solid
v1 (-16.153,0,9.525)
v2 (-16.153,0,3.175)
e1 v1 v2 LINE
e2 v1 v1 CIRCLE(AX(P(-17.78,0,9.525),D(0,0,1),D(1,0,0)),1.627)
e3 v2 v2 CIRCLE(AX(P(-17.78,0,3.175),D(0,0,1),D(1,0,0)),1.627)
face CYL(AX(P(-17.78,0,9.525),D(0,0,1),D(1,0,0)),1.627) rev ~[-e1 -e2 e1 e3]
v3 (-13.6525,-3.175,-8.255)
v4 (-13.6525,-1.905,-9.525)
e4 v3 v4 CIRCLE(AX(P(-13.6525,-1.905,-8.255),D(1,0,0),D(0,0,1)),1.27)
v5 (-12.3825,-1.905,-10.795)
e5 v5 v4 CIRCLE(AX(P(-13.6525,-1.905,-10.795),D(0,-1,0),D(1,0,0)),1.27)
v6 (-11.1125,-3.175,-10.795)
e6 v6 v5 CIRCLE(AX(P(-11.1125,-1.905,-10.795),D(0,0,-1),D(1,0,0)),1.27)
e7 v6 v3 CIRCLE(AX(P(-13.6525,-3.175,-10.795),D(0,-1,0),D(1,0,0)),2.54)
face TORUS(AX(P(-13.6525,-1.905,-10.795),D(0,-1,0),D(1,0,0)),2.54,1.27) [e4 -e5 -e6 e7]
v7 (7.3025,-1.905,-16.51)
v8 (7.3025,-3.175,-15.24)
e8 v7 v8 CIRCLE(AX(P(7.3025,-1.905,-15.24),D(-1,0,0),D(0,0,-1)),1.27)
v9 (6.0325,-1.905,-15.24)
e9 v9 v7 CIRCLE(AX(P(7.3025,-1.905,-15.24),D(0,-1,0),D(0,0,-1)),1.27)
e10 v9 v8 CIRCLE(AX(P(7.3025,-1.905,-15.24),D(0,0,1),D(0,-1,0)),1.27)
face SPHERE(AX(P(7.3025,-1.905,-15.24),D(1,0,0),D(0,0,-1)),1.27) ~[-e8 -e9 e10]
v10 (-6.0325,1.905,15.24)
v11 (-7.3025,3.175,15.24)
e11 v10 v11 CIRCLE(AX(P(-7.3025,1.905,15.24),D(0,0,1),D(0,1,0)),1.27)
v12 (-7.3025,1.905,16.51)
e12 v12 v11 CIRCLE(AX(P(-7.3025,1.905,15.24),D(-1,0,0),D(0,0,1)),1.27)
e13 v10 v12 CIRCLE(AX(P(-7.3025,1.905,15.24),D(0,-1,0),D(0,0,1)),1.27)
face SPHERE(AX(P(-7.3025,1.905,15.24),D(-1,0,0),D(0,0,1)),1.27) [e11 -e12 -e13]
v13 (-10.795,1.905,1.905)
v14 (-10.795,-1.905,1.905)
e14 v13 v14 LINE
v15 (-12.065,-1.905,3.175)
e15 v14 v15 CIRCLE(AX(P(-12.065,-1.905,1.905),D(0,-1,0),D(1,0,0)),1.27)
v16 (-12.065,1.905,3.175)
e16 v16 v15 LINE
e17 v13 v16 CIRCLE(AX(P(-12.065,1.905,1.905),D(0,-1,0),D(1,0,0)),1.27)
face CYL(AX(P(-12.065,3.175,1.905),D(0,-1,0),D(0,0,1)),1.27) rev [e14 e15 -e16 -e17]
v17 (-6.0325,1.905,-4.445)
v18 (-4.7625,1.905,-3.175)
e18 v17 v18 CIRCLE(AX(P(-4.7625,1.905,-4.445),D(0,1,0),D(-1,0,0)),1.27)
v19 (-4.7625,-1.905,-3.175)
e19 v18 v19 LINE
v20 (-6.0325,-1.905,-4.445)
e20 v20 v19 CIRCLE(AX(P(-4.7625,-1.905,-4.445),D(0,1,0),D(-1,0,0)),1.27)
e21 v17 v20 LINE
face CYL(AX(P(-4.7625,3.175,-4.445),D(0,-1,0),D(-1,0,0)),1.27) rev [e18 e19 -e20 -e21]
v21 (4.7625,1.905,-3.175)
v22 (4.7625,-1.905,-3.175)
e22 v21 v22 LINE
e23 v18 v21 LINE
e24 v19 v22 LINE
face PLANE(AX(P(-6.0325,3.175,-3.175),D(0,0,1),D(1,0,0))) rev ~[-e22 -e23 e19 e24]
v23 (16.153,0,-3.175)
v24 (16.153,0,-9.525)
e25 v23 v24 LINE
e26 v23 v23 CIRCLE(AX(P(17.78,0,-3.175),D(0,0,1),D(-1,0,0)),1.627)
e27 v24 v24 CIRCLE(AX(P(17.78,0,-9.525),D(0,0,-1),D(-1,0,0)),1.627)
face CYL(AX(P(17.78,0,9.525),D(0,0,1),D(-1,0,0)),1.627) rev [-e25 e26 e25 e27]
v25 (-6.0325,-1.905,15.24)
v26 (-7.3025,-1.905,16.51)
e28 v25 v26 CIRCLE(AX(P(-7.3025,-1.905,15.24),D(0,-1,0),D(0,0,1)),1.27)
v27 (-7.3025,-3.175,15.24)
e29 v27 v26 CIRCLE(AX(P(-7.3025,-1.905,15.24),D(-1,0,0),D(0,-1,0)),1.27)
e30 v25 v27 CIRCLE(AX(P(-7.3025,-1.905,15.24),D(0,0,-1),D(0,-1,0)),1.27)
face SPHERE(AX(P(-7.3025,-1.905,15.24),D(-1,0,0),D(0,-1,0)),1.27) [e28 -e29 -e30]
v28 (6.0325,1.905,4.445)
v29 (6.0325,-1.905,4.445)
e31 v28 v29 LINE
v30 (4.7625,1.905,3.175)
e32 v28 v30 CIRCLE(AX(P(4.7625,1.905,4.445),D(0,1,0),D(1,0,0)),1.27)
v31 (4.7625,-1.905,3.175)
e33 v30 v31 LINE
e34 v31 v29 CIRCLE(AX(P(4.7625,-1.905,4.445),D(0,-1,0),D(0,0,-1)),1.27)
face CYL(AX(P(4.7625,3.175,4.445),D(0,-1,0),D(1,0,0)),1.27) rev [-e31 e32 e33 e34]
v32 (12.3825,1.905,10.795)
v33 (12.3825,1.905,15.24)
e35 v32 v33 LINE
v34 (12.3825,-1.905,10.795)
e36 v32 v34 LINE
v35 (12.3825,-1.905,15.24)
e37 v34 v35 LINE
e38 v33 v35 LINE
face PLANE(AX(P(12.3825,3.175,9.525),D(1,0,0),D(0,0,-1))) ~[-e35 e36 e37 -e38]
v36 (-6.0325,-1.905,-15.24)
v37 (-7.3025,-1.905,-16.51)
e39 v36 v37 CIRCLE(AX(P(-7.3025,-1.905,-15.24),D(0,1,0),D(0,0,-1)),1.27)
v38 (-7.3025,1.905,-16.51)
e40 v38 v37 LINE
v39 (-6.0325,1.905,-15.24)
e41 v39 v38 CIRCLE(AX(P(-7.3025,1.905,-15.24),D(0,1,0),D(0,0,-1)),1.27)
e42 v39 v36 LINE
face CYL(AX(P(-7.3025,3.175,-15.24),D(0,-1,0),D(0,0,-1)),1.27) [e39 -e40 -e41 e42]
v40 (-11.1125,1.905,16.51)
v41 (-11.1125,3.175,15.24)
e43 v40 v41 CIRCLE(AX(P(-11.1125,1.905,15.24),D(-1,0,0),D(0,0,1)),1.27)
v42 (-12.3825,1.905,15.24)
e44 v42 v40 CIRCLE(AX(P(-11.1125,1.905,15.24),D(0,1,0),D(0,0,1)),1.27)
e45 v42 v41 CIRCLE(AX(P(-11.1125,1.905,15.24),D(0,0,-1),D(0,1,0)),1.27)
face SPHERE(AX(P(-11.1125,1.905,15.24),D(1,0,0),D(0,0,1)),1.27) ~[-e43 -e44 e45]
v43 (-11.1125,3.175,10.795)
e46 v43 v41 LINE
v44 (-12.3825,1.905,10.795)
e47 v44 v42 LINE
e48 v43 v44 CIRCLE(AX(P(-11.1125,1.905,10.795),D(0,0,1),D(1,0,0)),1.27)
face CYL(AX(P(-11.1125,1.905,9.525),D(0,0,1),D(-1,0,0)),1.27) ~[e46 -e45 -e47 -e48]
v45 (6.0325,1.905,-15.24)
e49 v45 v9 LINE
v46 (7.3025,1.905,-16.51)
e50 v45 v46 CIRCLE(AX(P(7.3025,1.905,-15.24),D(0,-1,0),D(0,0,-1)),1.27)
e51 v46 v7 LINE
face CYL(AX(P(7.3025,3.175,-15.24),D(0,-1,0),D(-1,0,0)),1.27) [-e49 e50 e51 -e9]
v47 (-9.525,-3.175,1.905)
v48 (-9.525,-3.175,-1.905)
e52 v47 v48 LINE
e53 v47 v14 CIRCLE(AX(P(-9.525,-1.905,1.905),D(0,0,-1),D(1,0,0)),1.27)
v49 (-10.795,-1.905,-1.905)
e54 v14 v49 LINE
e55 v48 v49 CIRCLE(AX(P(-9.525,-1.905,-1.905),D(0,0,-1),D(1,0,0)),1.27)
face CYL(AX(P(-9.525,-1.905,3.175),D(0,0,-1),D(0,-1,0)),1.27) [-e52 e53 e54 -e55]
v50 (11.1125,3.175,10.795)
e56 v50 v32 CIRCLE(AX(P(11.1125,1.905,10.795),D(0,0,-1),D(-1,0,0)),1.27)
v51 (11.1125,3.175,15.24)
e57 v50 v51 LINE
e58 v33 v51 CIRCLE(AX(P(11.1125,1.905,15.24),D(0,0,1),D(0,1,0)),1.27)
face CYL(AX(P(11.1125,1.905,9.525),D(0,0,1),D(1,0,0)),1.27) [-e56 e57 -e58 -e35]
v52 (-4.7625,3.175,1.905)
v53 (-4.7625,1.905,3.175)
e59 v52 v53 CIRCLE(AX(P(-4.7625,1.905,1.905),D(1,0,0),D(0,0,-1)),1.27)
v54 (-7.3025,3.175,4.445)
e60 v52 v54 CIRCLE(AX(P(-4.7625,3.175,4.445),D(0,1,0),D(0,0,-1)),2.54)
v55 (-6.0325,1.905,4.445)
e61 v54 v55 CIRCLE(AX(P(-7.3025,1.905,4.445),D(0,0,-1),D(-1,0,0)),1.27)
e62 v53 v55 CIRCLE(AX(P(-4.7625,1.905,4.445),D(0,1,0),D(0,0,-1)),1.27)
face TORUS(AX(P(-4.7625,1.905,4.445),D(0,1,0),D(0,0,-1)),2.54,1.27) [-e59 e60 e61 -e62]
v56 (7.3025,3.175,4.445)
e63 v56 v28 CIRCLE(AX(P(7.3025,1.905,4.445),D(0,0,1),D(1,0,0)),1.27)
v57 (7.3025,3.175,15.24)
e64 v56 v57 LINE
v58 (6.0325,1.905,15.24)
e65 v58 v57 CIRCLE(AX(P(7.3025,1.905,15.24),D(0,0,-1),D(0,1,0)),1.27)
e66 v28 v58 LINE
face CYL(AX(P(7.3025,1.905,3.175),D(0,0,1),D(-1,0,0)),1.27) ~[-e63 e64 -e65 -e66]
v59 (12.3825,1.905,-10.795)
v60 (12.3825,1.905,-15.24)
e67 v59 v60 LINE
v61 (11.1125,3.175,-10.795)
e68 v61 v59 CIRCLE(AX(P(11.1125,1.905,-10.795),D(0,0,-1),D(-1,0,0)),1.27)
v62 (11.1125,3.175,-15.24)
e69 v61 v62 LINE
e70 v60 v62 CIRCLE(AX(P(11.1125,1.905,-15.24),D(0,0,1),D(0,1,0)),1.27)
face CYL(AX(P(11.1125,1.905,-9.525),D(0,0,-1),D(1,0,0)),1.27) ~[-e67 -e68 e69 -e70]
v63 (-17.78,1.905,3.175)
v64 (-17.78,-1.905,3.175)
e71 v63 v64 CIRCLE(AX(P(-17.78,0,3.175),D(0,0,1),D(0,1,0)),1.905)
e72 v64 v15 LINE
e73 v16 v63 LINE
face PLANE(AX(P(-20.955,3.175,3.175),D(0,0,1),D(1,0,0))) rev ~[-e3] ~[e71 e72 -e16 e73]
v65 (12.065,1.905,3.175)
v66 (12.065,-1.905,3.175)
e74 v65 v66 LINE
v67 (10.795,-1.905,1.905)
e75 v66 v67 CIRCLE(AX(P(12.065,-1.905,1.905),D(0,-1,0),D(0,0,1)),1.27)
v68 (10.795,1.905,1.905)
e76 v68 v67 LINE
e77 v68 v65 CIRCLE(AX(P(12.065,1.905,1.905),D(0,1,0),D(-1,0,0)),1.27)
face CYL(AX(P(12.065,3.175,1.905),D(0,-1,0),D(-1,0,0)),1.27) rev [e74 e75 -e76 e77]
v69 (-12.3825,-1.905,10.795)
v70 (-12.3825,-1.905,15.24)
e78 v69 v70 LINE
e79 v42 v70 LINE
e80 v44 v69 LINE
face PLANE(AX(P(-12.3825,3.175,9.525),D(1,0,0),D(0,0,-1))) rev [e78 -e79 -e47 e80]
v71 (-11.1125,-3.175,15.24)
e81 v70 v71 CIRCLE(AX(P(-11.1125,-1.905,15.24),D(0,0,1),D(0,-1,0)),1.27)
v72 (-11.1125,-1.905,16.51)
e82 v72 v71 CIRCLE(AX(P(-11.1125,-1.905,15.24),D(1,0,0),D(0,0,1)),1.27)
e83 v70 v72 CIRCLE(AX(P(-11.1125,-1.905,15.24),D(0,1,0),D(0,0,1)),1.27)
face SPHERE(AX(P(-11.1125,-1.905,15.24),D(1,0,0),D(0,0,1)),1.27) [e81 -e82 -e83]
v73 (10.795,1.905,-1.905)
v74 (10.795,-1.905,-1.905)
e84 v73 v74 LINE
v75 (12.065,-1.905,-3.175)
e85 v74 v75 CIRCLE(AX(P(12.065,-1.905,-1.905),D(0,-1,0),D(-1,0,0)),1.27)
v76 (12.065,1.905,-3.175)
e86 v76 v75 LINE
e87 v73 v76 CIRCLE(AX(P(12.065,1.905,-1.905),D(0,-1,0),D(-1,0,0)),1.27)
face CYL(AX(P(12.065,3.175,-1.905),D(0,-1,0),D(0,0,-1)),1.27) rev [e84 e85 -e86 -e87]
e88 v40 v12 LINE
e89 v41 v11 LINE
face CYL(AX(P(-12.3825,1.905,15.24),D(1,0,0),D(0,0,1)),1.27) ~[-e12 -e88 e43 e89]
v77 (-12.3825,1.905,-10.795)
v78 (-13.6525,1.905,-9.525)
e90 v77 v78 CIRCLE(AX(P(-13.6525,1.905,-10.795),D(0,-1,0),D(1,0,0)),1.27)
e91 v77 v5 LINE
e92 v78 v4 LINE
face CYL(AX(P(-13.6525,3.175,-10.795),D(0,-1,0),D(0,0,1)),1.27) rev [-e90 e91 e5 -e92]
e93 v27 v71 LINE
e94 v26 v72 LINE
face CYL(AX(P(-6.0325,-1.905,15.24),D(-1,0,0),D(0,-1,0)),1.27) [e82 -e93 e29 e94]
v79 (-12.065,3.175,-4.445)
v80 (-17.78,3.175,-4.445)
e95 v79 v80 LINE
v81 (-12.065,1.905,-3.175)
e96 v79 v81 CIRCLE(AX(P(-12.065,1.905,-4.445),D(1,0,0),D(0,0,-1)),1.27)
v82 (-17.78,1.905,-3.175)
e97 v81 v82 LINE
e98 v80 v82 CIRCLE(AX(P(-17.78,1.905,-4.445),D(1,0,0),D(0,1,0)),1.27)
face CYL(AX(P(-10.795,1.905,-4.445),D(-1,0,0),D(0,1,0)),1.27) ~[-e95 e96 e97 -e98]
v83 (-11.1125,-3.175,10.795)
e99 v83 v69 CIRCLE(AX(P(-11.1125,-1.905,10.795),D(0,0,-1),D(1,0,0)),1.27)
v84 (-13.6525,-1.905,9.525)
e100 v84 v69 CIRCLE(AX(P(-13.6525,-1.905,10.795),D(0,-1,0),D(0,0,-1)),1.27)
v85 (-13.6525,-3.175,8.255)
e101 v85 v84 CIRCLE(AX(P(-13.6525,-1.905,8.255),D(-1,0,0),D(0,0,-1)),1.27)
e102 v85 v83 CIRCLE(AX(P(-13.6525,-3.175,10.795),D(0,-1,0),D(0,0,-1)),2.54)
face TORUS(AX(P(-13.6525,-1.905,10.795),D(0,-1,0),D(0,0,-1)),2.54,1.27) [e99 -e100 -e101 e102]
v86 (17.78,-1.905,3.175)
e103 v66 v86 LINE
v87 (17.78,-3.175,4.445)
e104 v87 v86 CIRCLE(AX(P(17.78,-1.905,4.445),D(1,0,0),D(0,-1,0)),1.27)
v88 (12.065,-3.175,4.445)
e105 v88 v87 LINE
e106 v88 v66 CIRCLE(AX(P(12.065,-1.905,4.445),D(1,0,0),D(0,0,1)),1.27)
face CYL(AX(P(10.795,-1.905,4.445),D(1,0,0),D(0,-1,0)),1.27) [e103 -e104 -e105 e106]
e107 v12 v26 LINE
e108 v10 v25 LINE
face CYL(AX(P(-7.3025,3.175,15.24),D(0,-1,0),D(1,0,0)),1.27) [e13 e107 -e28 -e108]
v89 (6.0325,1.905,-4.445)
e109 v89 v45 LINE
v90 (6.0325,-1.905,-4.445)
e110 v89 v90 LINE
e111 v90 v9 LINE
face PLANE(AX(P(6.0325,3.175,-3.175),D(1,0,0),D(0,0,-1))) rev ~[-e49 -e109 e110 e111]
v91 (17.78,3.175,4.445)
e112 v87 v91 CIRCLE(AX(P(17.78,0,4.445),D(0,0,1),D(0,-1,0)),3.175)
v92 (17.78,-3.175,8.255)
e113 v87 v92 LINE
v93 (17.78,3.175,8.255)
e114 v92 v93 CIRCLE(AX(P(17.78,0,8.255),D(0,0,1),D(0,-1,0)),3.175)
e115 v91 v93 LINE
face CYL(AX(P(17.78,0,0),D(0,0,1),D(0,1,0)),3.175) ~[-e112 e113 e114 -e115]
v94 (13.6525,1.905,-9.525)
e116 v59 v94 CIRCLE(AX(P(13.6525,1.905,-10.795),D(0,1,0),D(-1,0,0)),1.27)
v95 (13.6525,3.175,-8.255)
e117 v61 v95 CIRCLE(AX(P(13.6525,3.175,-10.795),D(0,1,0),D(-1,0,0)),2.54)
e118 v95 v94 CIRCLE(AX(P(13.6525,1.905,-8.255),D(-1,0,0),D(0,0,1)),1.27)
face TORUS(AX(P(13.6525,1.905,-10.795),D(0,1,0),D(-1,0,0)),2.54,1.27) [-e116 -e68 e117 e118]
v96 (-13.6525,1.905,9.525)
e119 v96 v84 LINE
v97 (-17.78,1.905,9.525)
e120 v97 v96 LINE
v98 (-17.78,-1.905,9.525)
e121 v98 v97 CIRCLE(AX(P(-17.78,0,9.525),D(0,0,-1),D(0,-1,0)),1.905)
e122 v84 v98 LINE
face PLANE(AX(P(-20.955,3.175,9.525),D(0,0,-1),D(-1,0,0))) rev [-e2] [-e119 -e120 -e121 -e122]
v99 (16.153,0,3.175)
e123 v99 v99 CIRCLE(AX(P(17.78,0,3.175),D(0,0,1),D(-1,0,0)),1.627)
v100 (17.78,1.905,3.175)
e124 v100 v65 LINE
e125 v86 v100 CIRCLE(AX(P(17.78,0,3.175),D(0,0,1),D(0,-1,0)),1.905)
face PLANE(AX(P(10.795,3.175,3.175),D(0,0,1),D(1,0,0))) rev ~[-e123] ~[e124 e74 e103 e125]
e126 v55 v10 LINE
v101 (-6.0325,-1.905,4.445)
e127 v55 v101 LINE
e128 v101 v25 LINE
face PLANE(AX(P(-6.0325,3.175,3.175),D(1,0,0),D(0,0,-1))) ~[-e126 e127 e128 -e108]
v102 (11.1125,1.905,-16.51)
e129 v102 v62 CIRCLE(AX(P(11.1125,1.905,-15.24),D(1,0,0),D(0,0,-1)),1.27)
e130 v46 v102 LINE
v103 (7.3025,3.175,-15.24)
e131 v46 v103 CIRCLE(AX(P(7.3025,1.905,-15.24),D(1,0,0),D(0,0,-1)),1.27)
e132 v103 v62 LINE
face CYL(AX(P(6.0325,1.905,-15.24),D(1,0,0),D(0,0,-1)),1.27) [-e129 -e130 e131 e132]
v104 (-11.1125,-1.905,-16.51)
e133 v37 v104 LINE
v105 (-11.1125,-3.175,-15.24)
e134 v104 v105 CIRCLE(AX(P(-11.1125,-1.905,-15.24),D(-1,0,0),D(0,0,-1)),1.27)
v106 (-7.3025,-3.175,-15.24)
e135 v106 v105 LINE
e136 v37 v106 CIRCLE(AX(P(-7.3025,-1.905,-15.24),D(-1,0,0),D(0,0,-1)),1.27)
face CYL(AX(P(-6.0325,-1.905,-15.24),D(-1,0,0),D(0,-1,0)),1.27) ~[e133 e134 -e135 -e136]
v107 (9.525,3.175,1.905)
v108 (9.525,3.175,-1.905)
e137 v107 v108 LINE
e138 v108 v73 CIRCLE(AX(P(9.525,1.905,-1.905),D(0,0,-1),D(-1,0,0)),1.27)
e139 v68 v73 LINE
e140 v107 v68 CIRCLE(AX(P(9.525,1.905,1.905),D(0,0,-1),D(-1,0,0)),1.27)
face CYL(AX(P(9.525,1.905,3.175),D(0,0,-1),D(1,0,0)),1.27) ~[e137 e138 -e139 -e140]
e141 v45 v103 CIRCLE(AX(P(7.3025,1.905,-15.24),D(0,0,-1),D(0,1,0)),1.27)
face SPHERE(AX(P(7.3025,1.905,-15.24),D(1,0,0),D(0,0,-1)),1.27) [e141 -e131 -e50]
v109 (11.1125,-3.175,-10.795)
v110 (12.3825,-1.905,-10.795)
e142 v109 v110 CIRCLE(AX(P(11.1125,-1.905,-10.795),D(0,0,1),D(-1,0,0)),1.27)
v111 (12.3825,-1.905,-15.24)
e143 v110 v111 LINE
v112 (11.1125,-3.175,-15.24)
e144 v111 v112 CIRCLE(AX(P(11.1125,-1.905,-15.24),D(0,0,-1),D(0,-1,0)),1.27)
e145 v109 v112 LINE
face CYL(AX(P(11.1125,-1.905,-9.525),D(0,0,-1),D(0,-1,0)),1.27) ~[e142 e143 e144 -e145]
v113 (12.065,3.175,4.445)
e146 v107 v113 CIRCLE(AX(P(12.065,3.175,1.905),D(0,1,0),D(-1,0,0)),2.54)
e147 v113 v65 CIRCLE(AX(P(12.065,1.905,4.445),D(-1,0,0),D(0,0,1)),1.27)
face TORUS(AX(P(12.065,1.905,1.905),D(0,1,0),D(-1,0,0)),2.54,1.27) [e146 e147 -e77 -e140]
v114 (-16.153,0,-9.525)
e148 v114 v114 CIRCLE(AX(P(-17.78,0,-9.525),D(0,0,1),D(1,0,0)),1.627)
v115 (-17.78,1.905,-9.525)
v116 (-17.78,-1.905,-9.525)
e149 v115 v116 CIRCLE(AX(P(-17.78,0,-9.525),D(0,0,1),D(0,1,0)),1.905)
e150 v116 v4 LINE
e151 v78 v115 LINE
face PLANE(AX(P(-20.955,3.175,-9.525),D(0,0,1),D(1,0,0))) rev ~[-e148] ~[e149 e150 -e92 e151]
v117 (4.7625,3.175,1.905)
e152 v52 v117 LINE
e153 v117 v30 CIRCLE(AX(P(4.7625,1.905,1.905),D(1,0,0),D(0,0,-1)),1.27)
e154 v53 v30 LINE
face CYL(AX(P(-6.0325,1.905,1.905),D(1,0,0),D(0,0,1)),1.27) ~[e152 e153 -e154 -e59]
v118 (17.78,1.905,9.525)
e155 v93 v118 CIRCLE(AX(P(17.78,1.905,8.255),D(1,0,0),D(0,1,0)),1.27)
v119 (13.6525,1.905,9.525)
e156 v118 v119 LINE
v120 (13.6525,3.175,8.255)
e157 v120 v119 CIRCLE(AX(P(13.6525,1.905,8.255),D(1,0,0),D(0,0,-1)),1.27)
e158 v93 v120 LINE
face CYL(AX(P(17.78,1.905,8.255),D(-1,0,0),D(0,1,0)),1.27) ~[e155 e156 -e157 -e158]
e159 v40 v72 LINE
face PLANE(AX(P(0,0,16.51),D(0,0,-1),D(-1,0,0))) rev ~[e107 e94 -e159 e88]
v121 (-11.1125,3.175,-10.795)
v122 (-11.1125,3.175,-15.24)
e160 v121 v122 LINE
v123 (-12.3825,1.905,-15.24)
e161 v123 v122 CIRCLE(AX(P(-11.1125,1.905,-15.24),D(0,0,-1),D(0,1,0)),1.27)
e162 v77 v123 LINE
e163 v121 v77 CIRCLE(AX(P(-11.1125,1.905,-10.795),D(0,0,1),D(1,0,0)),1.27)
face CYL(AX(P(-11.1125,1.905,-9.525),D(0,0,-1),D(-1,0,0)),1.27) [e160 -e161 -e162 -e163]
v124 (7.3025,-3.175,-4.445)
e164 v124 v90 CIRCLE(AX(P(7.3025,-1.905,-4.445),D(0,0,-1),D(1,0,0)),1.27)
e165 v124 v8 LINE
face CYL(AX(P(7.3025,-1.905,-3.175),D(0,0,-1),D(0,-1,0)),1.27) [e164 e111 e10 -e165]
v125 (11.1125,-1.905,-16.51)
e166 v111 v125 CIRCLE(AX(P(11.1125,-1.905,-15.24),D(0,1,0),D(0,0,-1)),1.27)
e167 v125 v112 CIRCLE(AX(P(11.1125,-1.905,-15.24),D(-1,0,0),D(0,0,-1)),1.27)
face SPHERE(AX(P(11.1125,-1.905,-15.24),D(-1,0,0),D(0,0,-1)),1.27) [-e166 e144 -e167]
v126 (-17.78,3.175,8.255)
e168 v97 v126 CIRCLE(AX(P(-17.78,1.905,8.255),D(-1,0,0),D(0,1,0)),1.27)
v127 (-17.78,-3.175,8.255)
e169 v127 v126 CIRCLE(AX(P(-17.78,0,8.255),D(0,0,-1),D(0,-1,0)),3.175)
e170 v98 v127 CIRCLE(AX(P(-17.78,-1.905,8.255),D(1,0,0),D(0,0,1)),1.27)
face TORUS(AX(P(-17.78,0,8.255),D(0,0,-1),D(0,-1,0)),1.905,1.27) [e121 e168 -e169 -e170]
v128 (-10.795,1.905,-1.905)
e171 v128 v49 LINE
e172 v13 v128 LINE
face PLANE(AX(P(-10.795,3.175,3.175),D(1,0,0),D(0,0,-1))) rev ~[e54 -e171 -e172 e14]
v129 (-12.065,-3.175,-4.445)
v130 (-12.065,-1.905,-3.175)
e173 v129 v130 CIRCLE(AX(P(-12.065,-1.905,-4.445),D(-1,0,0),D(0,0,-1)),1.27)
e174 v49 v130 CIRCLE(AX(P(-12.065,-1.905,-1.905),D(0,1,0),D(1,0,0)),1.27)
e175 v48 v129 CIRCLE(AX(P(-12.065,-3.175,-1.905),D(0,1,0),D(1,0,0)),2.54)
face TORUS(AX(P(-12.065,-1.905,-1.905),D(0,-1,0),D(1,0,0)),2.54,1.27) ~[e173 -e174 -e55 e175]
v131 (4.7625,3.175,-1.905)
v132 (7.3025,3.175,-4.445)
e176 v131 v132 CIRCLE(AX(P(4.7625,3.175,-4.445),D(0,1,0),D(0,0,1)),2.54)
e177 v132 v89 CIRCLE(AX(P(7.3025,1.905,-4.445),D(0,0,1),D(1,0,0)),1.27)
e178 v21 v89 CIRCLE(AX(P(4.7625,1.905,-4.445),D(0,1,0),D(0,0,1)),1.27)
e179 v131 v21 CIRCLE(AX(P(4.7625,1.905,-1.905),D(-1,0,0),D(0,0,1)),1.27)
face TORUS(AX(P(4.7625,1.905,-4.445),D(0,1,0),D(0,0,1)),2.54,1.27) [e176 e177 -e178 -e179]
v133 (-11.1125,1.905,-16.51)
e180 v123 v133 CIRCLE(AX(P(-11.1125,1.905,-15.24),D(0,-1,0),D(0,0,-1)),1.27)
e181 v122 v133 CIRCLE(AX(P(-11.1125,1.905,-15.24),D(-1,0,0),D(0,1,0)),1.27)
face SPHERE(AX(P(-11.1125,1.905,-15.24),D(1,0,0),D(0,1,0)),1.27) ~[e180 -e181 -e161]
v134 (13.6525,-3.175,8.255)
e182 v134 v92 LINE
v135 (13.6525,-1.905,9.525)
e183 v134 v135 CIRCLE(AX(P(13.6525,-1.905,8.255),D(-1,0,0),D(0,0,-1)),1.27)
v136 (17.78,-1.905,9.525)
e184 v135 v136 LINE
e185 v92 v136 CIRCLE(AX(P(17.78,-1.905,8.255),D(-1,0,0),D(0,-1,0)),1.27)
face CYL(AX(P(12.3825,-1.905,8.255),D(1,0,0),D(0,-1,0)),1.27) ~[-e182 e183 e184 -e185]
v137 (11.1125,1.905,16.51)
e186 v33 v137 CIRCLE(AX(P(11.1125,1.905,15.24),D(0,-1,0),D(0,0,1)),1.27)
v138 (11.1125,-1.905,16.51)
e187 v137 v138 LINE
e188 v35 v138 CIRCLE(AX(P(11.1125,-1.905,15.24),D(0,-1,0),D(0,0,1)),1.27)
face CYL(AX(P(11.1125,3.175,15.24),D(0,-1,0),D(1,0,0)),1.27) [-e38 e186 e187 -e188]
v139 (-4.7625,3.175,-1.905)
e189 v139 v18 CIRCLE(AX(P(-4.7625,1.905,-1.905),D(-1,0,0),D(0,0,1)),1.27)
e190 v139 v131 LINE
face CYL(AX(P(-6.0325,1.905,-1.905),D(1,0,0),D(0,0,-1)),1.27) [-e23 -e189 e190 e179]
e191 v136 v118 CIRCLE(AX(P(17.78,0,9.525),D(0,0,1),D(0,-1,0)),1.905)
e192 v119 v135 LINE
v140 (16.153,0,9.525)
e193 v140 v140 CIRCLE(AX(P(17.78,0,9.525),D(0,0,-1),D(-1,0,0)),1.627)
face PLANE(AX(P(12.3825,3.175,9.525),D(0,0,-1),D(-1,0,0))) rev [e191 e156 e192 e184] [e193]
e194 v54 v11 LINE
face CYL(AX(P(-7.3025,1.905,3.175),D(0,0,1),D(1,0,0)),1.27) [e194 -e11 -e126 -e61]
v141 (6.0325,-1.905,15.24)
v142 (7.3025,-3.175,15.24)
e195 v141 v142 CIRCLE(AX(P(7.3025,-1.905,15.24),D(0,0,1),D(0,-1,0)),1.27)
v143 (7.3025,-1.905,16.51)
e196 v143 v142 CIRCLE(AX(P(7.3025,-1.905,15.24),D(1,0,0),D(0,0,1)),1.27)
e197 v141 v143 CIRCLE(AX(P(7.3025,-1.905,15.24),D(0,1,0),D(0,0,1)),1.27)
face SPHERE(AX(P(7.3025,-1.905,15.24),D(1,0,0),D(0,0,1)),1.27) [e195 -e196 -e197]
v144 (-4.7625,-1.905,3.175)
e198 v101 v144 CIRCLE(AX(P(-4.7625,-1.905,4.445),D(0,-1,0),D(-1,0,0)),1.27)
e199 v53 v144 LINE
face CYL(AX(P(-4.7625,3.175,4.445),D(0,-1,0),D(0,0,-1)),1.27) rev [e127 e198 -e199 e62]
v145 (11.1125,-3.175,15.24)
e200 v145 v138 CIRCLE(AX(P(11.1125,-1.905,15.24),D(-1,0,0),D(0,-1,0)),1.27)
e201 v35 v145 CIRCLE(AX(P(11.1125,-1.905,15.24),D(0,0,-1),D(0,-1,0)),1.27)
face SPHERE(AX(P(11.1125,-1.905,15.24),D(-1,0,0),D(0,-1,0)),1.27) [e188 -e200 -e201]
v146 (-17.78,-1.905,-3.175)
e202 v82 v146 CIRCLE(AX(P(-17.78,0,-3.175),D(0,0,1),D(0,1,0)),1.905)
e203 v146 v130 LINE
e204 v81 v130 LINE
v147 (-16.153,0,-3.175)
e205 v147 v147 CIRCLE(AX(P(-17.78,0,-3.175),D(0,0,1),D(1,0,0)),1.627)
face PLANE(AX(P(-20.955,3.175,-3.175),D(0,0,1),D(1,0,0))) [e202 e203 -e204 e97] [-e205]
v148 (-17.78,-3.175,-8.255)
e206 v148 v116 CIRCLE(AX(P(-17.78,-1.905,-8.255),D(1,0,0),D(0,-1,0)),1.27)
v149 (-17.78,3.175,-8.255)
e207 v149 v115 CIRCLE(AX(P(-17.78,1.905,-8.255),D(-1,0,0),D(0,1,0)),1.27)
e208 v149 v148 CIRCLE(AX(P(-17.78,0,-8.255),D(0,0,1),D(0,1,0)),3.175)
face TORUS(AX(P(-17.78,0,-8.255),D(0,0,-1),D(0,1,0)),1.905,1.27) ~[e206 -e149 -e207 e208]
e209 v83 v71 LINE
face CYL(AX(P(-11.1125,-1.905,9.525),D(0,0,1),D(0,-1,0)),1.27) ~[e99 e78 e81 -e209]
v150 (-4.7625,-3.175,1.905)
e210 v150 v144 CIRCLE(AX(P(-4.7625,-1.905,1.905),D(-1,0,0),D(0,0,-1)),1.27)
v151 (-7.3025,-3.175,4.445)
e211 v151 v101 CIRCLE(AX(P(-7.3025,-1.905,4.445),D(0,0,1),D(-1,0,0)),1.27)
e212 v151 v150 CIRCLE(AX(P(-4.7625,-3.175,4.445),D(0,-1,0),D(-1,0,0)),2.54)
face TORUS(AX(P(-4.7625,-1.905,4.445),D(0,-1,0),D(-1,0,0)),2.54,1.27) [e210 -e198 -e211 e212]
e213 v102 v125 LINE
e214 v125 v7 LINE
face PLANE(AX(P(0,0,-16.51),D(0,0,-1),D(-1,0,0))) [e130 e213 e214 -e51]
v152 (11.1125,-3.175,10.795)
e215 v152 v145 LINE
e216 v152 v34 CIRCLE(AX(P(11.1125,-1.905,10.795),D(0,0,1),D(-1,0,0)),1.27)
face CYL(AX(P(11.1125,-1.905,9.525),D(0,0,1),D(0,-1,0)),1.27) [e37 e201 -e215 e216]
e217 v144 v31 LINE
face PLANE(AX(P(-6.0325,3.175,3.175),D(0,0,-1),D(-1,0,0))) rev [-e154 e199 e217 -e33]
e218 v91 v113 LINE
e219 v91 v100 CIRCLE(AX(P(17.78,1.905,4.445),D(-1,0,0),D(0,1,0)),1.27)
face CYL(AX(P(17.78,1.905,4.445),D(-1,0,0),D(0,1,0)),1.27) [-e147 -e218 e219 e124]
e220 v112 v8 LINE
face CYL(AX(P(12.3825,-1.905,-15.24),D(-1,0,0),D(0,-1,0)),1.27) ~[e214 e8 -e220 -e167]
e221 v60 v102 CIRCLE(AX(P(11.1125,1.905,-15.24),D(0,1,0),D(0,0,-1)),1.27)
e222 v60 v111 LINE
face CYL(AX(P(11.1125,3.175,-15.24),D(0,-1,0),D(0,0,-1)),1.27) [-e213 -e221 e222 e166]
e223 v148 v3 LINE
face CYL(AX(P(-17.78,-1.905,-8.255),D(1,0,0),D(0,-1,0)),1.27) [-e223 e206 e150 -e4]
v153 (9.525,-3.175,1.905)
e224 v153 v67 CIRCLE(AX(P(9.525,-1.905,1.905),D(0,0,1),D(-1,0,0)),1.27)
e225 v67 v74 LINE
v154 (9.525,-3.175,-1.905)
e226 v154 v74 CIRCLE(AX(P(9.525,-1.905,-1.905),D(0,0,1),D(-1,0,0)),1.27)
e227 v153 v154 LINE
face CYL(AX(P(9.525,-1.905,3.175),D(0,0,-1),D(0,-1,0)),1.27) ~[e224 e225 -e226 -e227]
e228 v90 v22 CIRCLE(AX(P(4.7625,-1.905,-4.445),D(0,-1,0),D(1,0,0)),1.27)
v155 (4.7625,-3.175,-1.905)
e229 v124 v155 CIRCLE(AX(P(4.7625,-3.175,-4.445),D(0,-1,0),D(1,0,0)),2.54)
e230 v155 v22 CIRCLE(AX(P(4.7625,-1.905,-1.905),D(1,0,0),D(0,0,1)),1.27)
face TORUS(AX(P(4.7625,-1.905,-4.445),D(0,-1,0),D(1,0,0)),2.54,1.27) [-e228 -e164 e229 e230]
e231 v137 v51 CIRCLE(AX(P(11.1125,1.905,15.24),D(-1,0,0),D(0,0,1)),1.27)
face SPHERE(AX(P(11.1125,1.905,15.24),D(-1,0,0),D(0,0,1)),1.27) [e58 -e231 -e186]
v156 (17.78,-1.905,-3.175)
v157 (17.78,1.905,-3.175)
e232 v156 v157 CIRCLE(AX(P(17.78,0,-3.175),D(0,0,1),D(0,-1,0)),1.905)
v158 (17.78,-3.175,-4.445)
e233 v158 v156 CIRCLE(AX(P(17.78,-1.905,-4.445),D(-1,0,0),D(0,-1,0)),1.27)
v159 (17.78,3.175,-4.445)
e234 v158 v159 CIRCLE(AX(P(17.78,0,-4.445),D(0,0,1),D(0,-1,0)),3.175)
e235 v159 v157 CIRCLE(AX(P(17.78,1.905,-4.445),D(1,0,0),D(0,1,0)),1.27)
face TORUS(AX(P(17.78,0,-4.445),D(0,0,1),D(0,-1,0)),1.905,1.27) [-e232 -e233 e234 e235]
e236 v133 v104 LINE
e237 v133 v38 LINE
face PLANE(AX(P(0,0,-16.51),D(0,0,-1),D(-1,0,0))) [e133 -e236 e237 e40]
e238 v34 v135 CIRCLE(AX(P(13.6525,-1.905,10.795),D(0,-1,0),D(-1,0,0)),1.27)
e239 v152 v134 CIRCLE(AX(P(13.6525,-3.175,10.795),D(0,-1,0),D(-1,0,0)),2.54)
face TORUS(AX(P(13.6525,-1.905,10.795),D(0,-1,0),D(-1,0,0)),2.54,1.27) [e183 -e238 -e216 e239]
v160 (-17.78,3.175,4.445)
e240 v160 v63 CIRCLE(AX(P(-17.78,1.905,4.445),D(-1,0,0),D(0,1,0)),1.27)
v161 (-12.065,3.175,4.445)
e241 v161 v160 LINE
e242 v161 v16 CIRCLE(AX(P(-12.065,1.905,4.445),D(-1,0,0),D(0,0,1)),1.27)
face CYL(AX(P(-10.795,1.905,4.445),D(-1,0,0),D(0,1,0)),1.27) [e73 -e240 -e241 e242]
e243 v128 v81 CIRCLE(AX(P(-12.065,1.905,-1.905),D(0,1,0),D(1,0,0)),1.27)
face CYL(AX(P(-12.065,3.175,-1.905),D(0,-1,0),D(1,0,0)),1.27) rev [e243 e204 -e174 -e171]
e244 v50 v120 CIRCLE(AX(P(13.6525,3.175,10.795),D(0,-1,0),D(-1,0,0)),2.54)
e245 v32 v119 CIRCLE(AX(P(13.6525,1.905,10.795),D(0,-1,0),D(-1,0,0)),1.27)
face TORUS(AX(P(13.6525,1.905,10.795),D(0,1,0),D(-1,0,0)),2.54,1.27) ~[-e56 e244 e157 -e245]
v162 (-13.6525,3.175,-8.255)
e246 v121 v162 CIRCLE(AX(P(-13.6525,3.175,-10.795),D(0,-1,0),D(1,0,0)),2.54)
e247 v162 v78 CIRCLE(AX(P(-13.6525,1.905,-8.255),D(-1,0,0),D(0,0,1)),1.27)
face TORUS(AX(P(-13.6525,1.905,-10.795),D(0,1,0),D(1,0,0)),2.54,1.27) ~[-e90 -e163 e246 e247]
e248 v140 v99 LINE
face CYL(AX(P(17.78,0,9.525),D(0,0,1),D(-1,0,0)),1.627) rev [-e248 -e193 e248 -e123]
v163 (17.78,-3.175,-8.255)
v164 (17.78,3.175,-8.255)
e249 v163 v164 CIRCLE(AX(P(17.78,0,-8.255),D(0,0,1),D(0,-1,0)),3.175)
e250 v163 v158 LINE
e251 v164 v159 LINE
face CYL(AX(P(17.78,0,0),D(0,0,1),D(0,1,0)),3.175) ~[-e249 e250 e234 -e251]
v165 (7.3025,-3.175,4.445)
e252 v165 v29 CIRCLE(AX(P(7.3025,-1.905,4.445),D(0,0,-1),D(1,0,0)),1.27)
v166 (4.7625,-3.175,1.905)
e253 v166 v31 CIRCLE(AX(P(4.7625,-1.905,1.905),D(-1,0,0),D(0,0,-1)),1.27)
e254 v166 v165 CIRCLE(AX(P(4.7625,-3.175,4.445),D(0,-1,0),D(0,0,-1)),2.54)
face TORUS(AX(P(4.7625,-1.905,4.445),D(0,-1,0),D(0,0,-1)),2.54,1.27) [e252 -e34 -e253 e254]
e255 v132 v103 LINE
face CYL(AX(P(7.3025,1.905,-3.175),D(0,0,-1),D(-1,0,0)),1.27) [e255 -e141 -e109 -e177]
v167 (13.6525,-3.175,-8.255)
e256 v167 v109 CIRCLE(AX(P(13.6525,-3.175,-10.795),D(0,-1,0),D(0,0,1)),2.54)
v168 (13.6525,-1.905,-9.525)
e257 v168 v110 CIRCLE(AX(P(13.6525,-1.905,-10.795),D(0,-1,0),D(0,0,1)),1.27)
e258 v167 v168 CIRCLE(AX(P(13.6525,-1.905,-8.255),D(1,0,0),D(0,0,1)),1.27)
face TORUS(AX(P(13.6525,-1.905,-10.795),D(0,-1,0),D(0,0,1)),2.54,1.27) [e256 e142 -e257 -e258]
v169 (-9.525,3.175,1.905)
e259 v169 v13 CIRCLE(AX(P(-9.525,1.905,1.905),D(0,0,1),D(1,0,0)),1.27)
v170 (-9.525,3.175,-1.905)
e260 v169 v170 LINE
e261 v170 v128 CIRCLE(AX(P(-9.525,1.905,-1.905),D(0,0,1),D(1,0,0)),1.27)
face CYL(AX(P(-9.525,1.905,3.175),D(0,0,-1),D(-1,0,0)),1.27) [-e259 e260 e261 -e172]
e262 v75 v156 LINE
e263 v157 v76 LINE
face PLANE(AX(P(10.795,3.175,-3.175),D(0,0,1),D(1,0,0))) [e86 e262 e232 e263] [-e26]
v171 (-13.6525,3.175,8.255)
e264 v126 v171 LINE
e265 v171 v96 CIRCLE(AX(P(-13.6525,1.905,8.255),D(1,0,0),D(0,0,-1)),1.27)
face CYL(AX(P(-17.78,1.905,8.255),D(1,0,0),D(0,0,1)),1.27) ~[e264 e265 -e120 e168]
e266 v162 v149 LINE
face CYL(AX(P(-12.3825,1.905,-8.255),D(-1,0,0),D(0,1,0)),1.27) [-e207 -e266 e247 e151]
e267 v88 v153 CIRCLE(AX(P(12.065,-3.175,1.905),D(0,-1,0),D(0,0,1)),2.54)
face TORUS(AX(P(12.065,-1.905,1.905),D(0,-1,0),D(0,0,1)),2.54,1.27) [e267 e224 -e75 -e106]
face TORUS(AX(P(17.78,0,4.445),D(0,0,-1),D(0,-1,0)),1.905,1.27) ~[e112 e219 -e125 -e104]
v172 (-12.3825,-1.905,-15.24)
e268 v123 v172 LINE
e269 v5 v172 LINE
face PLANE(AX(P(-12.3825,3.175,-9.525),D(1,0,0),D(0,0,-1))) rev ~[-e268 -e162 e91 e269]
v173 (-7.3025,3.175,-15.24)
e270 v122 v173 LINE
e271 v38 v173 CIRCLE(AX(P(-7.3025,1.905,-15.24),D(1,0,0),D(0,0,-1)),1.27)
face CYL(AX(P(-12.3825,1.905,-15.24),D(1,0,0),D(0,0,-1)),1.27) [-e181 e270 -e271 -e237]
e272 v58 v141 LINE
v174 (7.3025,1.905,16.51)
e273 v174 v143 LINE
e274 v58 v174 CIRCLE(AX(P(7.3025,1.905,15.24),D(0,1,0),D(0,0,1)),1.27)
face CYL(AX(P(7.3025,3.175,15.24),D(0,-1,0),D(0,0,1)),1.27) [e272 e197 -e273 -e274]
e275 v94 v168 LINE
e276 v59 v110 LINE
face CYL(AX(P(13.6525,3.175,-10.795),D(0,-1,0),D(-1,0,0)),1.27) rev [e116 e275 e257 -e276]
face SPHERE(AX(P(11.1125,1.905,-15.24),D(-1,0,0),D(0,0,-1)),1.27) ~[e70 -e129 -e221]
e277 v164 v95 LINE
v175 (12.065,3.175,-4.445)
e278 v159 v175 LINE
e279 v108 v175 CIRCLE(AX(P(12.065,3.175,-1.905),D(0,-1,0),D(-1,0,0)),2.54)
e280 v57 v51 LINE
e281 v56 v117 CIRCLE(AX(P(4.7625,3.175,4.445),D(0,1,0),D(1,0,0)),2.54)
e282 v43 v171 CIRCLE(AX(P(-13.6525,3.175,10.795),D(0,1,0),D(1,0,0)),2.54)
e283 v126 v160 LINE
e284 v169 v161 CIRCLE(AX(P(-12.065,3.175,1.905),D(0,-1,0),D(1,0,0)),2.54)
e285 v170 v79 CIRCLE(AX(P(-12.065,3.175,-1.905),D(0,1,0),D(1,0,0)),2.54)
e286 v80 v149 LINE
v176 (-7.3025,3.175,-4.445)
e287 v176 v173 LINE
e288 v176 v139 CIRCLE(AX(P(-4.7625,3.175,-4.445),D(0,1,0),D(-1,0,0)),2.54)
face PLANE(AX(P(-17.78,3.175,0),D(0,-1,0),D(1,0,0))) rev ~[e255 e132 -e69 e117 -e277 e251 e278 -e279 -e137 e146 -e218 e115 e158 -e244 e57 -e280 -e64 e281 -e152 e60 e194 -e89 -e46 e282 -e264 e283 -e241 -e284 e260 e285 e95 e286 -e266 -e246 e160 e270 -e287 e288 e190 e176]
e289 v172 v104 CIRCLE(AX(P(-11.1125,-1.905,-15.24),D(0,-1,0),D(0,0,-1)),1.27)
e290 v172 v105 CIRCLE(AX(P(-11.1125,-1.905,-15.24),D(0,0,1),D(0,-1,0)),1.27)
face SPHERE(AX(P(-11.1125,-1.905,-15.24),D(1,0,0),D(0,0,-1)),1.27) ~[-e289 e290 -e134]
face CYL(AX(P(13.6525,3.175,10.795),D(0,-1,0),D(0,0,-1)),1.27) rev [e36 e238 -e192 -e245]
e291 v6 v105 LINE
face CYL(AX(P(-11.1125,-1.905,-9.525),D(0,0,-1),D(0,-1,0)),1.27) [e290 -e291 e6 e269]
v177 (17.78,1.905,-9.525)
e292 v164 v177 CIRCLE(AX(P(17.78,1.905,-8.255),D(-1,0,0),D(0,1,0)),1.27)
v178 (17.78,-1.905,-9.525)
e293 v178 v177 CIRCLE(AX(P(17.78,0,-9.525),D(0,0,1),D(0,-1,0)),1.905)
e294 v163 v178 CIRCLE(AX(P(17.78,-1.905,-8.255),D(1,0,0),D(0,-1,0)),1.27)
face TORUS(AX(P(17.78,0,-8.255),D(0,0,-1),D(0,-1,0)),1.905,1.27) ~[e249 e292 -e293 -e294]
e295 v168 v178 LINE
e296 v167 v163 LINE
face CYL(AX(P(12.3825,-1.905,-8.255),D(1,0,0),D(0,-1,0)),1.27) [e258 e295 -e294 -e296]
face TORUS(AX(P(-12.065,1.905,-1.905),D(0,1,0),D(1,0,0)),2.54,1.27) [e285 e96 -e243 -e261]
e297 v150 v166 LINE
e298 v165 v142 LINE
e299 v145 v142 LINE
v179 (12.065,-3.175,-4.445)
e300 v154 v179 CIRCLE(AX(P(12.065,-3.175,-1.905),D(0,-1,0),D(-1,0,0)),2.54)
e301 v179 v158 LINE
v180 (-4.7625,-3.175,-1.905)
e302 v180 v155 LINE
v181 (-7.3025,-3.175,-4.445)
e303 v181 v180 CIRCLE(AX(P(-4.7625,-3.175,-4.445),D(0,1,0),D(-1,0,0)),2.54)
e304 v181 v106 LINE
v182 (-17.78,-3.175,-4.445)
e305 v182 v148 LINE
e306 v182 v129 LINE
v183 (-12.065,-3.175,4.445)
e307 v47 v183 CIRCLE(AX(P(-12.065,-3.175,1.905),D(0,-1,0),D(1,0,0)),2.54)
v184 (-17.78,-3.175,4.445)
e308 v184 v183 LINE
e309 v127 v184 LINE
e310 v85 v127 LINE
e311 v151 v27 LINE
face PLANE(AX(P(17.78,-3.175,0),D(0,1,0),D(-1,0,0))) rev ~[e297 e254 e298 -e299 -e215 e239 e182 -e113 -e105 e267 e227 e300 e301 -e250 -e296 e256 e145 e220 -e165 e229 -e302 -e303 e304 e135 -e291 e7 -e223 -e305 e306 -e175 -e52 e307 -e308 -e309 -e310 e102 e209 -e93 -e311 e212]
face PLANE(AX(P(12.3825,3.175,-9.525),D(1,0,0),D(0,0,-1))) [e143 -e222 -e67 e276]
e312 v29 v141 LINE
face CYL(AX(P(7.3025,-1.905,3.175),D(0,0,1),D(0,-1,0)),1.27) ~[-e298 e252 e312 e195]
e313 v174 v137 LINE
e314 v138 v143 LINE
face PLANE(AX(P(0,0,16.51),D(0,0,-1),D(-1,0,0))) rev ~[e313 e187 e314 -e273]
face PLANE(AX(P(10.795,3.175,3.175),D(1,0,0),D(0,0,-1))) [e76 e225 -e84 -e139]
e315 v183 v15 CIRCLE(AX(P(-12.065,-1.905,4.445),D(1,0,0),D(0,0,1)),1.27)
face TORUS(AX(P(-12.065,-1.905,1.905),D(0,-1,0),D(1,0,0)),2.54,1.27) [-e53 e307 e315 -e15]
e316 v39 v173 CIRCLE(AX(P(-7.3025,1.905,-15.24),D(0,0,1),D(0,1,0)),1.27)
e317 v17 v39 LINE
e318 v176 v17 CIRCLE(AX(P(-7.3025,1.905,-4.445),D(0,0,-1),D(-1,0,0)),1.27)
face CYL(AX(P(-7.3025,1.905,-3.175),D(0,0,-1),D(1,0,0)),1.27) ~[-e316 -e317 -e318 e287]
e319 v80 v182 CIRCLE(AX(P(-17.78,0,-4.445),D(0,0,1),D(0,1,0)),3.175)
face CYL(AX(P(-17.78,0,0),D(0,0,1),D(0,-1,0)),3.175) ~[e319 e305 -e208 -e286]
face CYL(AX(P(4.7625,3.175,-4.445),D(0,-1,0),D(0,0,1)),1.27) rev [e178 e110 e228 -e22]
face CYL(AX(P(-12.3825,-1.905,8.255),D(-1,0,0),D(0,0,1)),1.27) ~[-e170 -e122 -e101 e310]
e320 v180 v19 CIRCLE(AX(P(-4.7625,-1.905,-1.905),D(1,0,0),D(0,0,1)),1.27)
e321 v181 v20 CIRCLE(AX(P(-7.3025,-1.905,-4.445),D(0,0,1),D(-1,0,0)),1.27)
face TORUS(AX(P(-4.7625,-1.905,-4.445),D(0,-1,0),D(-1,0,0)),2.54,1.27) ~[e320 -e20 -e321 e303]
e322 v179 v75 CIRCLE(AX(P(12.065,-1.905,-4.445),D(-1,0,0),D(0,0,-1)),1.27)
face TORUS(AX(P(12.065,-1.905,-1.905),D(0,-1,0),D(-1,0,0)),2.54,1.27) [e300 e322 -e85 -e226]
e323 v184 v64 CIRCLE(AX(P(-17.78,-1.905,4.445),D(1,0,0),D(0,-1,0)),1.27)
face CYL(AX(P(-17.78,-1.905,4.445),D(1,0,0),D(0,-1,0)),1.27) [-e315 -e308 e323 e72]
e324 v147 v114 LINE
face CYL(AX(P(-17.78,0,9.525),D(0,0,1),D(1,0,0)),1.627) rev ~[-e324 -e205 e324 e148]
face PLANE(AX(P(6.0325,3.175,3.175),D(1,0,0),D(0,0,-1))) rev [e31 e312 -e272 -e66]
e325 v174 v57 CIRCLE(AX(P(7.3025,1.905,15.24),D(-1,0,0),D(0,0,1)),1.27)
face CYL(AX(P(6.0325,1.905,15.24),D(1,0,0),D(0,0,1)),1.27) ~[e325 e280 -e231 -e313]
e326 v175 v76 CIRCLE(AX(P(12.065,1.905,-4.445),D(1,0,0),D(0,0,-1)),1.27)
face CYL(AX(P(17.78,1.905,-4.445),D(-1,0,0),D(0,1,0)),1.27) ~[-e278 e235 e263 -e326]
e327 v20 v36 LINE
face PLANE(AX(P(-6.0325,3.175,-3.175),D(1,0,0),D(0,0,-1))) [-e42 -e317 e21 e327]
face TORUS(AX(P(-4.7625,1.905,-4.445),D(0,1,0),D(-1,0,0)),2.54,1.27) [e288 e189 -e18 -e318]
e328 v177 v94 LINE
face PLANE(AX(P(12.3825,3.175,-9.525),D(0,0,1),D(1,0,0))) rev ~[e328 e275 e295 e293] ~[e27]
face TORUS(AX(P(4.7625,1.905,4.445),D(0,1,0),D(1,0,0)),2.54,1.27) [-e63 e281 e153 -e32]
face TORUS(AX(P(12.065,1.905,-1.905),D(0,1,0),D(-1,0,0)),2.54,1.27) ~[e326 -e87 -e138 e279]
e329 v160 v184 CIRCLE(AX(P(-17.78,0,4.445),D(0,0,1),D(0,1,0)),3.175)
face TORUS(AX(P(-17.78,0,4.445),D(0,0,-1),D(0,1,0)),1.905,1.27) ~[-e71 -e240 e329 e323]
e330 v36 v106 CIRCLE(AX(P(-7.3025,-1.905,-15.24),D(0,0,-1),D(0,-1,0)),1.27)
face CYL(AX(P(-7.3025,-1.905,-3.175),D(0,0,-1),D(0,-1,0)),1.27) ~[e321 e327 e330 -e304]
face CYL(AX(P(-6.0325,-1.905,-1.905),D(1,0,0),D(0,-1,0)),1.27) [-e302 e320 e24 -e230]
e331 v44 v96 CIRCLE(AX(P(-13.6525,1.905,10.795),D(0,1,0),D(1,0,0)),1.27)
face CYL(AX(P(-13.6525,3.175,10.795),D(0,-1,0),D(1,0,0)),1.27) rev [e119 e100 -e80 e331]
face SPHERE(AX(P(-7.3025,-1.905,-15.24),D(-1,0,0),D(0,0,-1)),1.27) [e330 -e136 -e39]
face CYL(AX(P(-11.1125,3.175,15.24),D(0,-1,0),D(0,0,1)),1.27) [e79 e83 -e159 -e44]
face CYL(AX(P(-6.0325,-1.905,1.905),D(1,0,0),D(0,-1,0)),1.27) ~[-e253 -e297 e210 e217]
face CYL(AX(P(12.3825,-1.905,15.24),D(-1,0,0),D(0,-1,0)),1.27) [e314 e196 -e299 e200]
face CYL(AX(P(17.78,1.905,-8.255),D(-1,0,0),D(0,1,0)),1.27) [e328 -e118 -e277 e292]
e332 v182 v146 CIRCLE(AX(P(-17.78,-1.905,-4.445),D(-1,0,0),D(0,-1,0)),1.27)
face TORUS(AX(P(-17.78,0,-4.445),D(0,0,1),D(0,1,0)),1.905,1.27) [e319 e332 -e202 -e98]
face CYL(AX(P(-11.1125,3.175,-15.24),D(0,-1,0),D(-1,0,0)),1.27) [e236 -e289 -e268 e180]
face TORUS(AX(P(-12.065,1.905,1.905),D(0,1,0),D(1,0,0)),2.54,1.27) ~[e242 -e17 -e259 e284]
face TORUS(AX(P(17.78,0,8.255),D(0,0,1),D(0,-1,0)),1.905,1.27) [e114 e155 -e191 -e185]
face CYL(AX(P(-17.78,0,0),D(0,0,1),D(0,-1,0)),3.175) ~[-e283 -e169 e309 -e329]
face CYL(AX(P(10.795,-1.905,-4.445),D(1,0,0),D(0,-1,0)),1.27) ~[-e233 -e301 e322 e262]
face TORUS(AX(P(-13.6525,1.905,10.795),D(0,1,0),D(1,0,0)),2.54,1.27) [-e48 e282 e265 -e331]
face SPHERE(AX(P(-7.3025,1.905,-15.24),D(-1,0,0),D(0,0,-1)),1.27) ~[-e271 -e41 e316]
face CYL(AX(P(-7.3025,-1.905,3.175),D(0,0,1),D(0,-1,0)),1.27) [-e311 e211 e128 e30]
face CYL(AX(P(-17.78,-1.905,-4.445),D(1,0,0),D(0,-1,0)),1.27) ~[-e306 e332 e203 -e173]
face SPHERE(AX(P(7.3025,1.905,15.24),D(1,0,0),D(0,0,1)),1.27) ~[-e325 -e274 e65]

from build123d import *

# Parameters (mm, degrees)
BOSS_EXTRUDE1_DEPTH = 16.51
SKETCH2_W           = 12.065
SKETCH2_H           = 13.335
SKETCH2_W_2         = 8.5725
SKETCH2_H_2         = 6.985
SKETCH2_W_3         = 10.16
SKETCH2_H_3         = 6.35
CUT_EXTRUDE1_DEPTH  = 6.35
CUT_EXTRUDE2_REACH  = 35.571
SKETCH3_R           = 1.627
FILLET1_R           = 1.27


with BuildPart() as part:
    # Sketch1 → Boss-Extrude1 (new, symmetric)
    with BuildSketch(Plane.XY):
        with BuildLine():
            Line((17.78, -3.175), (-17.78, -3.175))
            ThreePointArc((-17.78, -3.175), (-20.955, 0), (-17.78, 3.175))
            Line((-17.78, 3.175), (17.78, 3.175))
            ThreePointArc((17.78, 3.175), (20.955, 0), (17.78, -3.175))
        make_face()
    extrude(amount=BOSS_EXTRUDE1_DEPTH, both=True)

    # Sketch2 → Cut-Extrude1 (cut)
    with BuildSketch(Plane(origin=(0, 3.175, 0), x_dir=(1, 0, 0), z_dir=(0, 1, 0))):
        with Locations((0, 9.8425)):
            Rectangle(SKETCH2_W, SKETCH2_H)
        with Locations((-16.66875, 13.0175)):
            Rectangle(SKETCH2_W_2, SKETCH2_H_2)
        with Locations((16.66875, 13.0175)):
            Rectangle(SKETCH2_W_2, SKETCH2_H_2)
        with Locations((-15.875, 0)):
            Rectangle(SKETCH2_W_3, SKETCH2_H_3)
        with Locations((15.875, 0)):
            Rectangle(SKETCH2_W_3, SKETCH2_H_3)
    cut_extrude1 = extrude(amount=-CUT_EXTRUDE1_DEPTH, mode=Mode.SUBTRACT)

    # Mirror1: Cut-Extrude1 across plane
    add(cut_extrude1.mirror(Plane.XY), mode=Mode.SUBTRACT)

    # Cut-Extrude2: up to this face of the body (flat: up to its plane)
    cut_extrude2_end = Plane(part.part.faces().sort_by_distance((-16.359888841, 0, -9.525))[0])
    # Sketch3 → Cut-Extrude2 (cut, up to the picked face)
    with BuildSketch(Plane.XY.offset(9.525), mode=Mode.PRIVATE) as cut_extrude2_sk1:
        with Locations((-17.78, 0)):
            Circle(SKETCH3_R)
    cut_extrude2_tool1 = split(extrude(cut_extrude2_sk1.sketch, amount=-CUT_EXTRUDE2_REACH, mode=Mode.PRIVATE), bisect_by=cut_extrude2_end, keep=Keep.BOTH, mode=Mode.PRIVATE)
    cut_extrude2 = cut_extrude2_tool1.solids().sort_by(Axis((-17.78, 0, 9.525), (0, 0, -1)))[0]
    add(cut_extrude2, mode=Mode.SUBTRACT)

    # Mirror2: Cut-Extrude2 across plane
    add(cut_extrude2.mirror(Plane(origin=(0, 0, 0), x_dir=(0, 0, 1), z_dir=(1, 0, 0))), mode=Mode.SUBTRACT)

    # Fillet1
    fillet1_edges = [part.edges().sort_by_distance(p)[0] for p in [
        (9.2075, 3.175, 16.51),
        (-9.2075, 3.175, 16.51),
        (-9.2075, -3.175, 16.51),
        (9.2075, -3.175, 16.51),
        (-9.2075, -3.175, -16.51),
        (9.2075, -3.175, -16.51),
        (15.08125, -3.175, 9.525),
        (12.3825, 0, 9.525),
        (15.08125, 3.175, 9.525),
        (20.955, 0, 9.525),
        (12.3825, -3.175, 13.0175),
        (12.3825, 0, 16.51),
        (12.3825, 3.175, 13.0175),
        (9.2075, 3.175, -16.51),
        (-15.08125, 3.175, 9.525),
        (-15.08125, -3.175, 9.525),
        (-20.955, 0, 9.525),
        (-12.3825, 0, 16.51),
        (-12.3825, -3.175, 13.0175),
        (-12.3825, 0, 9.525),
        (-12.3825, 3.175, 13.0175),
        (-9.2075, 3.175, -16.51),
        (6.0325, 0, 16.51),
        (6.0325, -3.175, 9.8425),
        (6.0325, 0, 3.175),
        (6.0325, 3.175, 9.8425),
        (0, -3.175, 3.175),
        (-6.0325, 0, 3.175),
        (0, 3.175, 3.175),
        (-6.0325, -3.175, 9.8425),
        (-6.0325, 0, 16.51),
        (-6.0325, 3.175, 9.8425),
        (-14.2875, -3.175, -3.175),
        (14.2875, -3.175, 3.175),
        (10.795, -3.175, 0),
        (14.2875, -3.175, -3.175),
        (20.955, 0, -3.175),
        (10.795, 0, -3.175),
        (20.955, 0, 3.175),
        (10.795, 0, 3.175),
        (14.2875, 3.175, 3.175),
        (14.2875, 3.175, -3.175),
        (10.795, 3.175, 0),
        (-20.955, 0, -3.175),
        (-20.955, 0, 3.175),
        (-10.795, 0, 3.175),
        (-10.795, 0, -3.175),
        (-14.2875, 3.175, 3.175),
        (-10.795, 3.175, 0),
        (-14.2875, 3.175, -3.175),
        (-14.2875, -3.175, 3.175),
        (-10.795, -3.175, 0),
        (12.3825, 0, -16.51),
        (20.955, 0, -9.525),
        (15.08125, -3.175, -9.525),
        (12.3825, -3.175, -13.0175),
        (12.3825, 0, -9.525),
        (15.08125, 3.175, -9.525),
        (12.3825, 3.175, -13.0175),
        (-20.955, 0, -9.525),
        (-12.3825, 0, -9.525),
        (-15.08125, 3.175, -9.525),
        (-12.3825, 3.175, -13.0175),
        (-12.3825, 0, -16.51),
        (-15.08125, -3.175, -9.525),
        (-12.3825, -3.175, -13.0175),
        (-6.0325, 0, -3.175),
        (-6.0325, 0, -16.51),
        (6.0325, 0, -16.51),
        (6.0325, 0, -3.175),
        (-6.0325, 3.175, -9.8425),
        (0, 3.175, -3.175),
        (6.0325, 3.175, -9.8425),
        (-6.0325, -3.175, -9.8425),
        (6.0325, -3.175, -9.8425),
        (0, -3.175, -3.175),
    ]]
    fillet(fillet1_edges, radius=FILLET1_R)


solid = part.part
